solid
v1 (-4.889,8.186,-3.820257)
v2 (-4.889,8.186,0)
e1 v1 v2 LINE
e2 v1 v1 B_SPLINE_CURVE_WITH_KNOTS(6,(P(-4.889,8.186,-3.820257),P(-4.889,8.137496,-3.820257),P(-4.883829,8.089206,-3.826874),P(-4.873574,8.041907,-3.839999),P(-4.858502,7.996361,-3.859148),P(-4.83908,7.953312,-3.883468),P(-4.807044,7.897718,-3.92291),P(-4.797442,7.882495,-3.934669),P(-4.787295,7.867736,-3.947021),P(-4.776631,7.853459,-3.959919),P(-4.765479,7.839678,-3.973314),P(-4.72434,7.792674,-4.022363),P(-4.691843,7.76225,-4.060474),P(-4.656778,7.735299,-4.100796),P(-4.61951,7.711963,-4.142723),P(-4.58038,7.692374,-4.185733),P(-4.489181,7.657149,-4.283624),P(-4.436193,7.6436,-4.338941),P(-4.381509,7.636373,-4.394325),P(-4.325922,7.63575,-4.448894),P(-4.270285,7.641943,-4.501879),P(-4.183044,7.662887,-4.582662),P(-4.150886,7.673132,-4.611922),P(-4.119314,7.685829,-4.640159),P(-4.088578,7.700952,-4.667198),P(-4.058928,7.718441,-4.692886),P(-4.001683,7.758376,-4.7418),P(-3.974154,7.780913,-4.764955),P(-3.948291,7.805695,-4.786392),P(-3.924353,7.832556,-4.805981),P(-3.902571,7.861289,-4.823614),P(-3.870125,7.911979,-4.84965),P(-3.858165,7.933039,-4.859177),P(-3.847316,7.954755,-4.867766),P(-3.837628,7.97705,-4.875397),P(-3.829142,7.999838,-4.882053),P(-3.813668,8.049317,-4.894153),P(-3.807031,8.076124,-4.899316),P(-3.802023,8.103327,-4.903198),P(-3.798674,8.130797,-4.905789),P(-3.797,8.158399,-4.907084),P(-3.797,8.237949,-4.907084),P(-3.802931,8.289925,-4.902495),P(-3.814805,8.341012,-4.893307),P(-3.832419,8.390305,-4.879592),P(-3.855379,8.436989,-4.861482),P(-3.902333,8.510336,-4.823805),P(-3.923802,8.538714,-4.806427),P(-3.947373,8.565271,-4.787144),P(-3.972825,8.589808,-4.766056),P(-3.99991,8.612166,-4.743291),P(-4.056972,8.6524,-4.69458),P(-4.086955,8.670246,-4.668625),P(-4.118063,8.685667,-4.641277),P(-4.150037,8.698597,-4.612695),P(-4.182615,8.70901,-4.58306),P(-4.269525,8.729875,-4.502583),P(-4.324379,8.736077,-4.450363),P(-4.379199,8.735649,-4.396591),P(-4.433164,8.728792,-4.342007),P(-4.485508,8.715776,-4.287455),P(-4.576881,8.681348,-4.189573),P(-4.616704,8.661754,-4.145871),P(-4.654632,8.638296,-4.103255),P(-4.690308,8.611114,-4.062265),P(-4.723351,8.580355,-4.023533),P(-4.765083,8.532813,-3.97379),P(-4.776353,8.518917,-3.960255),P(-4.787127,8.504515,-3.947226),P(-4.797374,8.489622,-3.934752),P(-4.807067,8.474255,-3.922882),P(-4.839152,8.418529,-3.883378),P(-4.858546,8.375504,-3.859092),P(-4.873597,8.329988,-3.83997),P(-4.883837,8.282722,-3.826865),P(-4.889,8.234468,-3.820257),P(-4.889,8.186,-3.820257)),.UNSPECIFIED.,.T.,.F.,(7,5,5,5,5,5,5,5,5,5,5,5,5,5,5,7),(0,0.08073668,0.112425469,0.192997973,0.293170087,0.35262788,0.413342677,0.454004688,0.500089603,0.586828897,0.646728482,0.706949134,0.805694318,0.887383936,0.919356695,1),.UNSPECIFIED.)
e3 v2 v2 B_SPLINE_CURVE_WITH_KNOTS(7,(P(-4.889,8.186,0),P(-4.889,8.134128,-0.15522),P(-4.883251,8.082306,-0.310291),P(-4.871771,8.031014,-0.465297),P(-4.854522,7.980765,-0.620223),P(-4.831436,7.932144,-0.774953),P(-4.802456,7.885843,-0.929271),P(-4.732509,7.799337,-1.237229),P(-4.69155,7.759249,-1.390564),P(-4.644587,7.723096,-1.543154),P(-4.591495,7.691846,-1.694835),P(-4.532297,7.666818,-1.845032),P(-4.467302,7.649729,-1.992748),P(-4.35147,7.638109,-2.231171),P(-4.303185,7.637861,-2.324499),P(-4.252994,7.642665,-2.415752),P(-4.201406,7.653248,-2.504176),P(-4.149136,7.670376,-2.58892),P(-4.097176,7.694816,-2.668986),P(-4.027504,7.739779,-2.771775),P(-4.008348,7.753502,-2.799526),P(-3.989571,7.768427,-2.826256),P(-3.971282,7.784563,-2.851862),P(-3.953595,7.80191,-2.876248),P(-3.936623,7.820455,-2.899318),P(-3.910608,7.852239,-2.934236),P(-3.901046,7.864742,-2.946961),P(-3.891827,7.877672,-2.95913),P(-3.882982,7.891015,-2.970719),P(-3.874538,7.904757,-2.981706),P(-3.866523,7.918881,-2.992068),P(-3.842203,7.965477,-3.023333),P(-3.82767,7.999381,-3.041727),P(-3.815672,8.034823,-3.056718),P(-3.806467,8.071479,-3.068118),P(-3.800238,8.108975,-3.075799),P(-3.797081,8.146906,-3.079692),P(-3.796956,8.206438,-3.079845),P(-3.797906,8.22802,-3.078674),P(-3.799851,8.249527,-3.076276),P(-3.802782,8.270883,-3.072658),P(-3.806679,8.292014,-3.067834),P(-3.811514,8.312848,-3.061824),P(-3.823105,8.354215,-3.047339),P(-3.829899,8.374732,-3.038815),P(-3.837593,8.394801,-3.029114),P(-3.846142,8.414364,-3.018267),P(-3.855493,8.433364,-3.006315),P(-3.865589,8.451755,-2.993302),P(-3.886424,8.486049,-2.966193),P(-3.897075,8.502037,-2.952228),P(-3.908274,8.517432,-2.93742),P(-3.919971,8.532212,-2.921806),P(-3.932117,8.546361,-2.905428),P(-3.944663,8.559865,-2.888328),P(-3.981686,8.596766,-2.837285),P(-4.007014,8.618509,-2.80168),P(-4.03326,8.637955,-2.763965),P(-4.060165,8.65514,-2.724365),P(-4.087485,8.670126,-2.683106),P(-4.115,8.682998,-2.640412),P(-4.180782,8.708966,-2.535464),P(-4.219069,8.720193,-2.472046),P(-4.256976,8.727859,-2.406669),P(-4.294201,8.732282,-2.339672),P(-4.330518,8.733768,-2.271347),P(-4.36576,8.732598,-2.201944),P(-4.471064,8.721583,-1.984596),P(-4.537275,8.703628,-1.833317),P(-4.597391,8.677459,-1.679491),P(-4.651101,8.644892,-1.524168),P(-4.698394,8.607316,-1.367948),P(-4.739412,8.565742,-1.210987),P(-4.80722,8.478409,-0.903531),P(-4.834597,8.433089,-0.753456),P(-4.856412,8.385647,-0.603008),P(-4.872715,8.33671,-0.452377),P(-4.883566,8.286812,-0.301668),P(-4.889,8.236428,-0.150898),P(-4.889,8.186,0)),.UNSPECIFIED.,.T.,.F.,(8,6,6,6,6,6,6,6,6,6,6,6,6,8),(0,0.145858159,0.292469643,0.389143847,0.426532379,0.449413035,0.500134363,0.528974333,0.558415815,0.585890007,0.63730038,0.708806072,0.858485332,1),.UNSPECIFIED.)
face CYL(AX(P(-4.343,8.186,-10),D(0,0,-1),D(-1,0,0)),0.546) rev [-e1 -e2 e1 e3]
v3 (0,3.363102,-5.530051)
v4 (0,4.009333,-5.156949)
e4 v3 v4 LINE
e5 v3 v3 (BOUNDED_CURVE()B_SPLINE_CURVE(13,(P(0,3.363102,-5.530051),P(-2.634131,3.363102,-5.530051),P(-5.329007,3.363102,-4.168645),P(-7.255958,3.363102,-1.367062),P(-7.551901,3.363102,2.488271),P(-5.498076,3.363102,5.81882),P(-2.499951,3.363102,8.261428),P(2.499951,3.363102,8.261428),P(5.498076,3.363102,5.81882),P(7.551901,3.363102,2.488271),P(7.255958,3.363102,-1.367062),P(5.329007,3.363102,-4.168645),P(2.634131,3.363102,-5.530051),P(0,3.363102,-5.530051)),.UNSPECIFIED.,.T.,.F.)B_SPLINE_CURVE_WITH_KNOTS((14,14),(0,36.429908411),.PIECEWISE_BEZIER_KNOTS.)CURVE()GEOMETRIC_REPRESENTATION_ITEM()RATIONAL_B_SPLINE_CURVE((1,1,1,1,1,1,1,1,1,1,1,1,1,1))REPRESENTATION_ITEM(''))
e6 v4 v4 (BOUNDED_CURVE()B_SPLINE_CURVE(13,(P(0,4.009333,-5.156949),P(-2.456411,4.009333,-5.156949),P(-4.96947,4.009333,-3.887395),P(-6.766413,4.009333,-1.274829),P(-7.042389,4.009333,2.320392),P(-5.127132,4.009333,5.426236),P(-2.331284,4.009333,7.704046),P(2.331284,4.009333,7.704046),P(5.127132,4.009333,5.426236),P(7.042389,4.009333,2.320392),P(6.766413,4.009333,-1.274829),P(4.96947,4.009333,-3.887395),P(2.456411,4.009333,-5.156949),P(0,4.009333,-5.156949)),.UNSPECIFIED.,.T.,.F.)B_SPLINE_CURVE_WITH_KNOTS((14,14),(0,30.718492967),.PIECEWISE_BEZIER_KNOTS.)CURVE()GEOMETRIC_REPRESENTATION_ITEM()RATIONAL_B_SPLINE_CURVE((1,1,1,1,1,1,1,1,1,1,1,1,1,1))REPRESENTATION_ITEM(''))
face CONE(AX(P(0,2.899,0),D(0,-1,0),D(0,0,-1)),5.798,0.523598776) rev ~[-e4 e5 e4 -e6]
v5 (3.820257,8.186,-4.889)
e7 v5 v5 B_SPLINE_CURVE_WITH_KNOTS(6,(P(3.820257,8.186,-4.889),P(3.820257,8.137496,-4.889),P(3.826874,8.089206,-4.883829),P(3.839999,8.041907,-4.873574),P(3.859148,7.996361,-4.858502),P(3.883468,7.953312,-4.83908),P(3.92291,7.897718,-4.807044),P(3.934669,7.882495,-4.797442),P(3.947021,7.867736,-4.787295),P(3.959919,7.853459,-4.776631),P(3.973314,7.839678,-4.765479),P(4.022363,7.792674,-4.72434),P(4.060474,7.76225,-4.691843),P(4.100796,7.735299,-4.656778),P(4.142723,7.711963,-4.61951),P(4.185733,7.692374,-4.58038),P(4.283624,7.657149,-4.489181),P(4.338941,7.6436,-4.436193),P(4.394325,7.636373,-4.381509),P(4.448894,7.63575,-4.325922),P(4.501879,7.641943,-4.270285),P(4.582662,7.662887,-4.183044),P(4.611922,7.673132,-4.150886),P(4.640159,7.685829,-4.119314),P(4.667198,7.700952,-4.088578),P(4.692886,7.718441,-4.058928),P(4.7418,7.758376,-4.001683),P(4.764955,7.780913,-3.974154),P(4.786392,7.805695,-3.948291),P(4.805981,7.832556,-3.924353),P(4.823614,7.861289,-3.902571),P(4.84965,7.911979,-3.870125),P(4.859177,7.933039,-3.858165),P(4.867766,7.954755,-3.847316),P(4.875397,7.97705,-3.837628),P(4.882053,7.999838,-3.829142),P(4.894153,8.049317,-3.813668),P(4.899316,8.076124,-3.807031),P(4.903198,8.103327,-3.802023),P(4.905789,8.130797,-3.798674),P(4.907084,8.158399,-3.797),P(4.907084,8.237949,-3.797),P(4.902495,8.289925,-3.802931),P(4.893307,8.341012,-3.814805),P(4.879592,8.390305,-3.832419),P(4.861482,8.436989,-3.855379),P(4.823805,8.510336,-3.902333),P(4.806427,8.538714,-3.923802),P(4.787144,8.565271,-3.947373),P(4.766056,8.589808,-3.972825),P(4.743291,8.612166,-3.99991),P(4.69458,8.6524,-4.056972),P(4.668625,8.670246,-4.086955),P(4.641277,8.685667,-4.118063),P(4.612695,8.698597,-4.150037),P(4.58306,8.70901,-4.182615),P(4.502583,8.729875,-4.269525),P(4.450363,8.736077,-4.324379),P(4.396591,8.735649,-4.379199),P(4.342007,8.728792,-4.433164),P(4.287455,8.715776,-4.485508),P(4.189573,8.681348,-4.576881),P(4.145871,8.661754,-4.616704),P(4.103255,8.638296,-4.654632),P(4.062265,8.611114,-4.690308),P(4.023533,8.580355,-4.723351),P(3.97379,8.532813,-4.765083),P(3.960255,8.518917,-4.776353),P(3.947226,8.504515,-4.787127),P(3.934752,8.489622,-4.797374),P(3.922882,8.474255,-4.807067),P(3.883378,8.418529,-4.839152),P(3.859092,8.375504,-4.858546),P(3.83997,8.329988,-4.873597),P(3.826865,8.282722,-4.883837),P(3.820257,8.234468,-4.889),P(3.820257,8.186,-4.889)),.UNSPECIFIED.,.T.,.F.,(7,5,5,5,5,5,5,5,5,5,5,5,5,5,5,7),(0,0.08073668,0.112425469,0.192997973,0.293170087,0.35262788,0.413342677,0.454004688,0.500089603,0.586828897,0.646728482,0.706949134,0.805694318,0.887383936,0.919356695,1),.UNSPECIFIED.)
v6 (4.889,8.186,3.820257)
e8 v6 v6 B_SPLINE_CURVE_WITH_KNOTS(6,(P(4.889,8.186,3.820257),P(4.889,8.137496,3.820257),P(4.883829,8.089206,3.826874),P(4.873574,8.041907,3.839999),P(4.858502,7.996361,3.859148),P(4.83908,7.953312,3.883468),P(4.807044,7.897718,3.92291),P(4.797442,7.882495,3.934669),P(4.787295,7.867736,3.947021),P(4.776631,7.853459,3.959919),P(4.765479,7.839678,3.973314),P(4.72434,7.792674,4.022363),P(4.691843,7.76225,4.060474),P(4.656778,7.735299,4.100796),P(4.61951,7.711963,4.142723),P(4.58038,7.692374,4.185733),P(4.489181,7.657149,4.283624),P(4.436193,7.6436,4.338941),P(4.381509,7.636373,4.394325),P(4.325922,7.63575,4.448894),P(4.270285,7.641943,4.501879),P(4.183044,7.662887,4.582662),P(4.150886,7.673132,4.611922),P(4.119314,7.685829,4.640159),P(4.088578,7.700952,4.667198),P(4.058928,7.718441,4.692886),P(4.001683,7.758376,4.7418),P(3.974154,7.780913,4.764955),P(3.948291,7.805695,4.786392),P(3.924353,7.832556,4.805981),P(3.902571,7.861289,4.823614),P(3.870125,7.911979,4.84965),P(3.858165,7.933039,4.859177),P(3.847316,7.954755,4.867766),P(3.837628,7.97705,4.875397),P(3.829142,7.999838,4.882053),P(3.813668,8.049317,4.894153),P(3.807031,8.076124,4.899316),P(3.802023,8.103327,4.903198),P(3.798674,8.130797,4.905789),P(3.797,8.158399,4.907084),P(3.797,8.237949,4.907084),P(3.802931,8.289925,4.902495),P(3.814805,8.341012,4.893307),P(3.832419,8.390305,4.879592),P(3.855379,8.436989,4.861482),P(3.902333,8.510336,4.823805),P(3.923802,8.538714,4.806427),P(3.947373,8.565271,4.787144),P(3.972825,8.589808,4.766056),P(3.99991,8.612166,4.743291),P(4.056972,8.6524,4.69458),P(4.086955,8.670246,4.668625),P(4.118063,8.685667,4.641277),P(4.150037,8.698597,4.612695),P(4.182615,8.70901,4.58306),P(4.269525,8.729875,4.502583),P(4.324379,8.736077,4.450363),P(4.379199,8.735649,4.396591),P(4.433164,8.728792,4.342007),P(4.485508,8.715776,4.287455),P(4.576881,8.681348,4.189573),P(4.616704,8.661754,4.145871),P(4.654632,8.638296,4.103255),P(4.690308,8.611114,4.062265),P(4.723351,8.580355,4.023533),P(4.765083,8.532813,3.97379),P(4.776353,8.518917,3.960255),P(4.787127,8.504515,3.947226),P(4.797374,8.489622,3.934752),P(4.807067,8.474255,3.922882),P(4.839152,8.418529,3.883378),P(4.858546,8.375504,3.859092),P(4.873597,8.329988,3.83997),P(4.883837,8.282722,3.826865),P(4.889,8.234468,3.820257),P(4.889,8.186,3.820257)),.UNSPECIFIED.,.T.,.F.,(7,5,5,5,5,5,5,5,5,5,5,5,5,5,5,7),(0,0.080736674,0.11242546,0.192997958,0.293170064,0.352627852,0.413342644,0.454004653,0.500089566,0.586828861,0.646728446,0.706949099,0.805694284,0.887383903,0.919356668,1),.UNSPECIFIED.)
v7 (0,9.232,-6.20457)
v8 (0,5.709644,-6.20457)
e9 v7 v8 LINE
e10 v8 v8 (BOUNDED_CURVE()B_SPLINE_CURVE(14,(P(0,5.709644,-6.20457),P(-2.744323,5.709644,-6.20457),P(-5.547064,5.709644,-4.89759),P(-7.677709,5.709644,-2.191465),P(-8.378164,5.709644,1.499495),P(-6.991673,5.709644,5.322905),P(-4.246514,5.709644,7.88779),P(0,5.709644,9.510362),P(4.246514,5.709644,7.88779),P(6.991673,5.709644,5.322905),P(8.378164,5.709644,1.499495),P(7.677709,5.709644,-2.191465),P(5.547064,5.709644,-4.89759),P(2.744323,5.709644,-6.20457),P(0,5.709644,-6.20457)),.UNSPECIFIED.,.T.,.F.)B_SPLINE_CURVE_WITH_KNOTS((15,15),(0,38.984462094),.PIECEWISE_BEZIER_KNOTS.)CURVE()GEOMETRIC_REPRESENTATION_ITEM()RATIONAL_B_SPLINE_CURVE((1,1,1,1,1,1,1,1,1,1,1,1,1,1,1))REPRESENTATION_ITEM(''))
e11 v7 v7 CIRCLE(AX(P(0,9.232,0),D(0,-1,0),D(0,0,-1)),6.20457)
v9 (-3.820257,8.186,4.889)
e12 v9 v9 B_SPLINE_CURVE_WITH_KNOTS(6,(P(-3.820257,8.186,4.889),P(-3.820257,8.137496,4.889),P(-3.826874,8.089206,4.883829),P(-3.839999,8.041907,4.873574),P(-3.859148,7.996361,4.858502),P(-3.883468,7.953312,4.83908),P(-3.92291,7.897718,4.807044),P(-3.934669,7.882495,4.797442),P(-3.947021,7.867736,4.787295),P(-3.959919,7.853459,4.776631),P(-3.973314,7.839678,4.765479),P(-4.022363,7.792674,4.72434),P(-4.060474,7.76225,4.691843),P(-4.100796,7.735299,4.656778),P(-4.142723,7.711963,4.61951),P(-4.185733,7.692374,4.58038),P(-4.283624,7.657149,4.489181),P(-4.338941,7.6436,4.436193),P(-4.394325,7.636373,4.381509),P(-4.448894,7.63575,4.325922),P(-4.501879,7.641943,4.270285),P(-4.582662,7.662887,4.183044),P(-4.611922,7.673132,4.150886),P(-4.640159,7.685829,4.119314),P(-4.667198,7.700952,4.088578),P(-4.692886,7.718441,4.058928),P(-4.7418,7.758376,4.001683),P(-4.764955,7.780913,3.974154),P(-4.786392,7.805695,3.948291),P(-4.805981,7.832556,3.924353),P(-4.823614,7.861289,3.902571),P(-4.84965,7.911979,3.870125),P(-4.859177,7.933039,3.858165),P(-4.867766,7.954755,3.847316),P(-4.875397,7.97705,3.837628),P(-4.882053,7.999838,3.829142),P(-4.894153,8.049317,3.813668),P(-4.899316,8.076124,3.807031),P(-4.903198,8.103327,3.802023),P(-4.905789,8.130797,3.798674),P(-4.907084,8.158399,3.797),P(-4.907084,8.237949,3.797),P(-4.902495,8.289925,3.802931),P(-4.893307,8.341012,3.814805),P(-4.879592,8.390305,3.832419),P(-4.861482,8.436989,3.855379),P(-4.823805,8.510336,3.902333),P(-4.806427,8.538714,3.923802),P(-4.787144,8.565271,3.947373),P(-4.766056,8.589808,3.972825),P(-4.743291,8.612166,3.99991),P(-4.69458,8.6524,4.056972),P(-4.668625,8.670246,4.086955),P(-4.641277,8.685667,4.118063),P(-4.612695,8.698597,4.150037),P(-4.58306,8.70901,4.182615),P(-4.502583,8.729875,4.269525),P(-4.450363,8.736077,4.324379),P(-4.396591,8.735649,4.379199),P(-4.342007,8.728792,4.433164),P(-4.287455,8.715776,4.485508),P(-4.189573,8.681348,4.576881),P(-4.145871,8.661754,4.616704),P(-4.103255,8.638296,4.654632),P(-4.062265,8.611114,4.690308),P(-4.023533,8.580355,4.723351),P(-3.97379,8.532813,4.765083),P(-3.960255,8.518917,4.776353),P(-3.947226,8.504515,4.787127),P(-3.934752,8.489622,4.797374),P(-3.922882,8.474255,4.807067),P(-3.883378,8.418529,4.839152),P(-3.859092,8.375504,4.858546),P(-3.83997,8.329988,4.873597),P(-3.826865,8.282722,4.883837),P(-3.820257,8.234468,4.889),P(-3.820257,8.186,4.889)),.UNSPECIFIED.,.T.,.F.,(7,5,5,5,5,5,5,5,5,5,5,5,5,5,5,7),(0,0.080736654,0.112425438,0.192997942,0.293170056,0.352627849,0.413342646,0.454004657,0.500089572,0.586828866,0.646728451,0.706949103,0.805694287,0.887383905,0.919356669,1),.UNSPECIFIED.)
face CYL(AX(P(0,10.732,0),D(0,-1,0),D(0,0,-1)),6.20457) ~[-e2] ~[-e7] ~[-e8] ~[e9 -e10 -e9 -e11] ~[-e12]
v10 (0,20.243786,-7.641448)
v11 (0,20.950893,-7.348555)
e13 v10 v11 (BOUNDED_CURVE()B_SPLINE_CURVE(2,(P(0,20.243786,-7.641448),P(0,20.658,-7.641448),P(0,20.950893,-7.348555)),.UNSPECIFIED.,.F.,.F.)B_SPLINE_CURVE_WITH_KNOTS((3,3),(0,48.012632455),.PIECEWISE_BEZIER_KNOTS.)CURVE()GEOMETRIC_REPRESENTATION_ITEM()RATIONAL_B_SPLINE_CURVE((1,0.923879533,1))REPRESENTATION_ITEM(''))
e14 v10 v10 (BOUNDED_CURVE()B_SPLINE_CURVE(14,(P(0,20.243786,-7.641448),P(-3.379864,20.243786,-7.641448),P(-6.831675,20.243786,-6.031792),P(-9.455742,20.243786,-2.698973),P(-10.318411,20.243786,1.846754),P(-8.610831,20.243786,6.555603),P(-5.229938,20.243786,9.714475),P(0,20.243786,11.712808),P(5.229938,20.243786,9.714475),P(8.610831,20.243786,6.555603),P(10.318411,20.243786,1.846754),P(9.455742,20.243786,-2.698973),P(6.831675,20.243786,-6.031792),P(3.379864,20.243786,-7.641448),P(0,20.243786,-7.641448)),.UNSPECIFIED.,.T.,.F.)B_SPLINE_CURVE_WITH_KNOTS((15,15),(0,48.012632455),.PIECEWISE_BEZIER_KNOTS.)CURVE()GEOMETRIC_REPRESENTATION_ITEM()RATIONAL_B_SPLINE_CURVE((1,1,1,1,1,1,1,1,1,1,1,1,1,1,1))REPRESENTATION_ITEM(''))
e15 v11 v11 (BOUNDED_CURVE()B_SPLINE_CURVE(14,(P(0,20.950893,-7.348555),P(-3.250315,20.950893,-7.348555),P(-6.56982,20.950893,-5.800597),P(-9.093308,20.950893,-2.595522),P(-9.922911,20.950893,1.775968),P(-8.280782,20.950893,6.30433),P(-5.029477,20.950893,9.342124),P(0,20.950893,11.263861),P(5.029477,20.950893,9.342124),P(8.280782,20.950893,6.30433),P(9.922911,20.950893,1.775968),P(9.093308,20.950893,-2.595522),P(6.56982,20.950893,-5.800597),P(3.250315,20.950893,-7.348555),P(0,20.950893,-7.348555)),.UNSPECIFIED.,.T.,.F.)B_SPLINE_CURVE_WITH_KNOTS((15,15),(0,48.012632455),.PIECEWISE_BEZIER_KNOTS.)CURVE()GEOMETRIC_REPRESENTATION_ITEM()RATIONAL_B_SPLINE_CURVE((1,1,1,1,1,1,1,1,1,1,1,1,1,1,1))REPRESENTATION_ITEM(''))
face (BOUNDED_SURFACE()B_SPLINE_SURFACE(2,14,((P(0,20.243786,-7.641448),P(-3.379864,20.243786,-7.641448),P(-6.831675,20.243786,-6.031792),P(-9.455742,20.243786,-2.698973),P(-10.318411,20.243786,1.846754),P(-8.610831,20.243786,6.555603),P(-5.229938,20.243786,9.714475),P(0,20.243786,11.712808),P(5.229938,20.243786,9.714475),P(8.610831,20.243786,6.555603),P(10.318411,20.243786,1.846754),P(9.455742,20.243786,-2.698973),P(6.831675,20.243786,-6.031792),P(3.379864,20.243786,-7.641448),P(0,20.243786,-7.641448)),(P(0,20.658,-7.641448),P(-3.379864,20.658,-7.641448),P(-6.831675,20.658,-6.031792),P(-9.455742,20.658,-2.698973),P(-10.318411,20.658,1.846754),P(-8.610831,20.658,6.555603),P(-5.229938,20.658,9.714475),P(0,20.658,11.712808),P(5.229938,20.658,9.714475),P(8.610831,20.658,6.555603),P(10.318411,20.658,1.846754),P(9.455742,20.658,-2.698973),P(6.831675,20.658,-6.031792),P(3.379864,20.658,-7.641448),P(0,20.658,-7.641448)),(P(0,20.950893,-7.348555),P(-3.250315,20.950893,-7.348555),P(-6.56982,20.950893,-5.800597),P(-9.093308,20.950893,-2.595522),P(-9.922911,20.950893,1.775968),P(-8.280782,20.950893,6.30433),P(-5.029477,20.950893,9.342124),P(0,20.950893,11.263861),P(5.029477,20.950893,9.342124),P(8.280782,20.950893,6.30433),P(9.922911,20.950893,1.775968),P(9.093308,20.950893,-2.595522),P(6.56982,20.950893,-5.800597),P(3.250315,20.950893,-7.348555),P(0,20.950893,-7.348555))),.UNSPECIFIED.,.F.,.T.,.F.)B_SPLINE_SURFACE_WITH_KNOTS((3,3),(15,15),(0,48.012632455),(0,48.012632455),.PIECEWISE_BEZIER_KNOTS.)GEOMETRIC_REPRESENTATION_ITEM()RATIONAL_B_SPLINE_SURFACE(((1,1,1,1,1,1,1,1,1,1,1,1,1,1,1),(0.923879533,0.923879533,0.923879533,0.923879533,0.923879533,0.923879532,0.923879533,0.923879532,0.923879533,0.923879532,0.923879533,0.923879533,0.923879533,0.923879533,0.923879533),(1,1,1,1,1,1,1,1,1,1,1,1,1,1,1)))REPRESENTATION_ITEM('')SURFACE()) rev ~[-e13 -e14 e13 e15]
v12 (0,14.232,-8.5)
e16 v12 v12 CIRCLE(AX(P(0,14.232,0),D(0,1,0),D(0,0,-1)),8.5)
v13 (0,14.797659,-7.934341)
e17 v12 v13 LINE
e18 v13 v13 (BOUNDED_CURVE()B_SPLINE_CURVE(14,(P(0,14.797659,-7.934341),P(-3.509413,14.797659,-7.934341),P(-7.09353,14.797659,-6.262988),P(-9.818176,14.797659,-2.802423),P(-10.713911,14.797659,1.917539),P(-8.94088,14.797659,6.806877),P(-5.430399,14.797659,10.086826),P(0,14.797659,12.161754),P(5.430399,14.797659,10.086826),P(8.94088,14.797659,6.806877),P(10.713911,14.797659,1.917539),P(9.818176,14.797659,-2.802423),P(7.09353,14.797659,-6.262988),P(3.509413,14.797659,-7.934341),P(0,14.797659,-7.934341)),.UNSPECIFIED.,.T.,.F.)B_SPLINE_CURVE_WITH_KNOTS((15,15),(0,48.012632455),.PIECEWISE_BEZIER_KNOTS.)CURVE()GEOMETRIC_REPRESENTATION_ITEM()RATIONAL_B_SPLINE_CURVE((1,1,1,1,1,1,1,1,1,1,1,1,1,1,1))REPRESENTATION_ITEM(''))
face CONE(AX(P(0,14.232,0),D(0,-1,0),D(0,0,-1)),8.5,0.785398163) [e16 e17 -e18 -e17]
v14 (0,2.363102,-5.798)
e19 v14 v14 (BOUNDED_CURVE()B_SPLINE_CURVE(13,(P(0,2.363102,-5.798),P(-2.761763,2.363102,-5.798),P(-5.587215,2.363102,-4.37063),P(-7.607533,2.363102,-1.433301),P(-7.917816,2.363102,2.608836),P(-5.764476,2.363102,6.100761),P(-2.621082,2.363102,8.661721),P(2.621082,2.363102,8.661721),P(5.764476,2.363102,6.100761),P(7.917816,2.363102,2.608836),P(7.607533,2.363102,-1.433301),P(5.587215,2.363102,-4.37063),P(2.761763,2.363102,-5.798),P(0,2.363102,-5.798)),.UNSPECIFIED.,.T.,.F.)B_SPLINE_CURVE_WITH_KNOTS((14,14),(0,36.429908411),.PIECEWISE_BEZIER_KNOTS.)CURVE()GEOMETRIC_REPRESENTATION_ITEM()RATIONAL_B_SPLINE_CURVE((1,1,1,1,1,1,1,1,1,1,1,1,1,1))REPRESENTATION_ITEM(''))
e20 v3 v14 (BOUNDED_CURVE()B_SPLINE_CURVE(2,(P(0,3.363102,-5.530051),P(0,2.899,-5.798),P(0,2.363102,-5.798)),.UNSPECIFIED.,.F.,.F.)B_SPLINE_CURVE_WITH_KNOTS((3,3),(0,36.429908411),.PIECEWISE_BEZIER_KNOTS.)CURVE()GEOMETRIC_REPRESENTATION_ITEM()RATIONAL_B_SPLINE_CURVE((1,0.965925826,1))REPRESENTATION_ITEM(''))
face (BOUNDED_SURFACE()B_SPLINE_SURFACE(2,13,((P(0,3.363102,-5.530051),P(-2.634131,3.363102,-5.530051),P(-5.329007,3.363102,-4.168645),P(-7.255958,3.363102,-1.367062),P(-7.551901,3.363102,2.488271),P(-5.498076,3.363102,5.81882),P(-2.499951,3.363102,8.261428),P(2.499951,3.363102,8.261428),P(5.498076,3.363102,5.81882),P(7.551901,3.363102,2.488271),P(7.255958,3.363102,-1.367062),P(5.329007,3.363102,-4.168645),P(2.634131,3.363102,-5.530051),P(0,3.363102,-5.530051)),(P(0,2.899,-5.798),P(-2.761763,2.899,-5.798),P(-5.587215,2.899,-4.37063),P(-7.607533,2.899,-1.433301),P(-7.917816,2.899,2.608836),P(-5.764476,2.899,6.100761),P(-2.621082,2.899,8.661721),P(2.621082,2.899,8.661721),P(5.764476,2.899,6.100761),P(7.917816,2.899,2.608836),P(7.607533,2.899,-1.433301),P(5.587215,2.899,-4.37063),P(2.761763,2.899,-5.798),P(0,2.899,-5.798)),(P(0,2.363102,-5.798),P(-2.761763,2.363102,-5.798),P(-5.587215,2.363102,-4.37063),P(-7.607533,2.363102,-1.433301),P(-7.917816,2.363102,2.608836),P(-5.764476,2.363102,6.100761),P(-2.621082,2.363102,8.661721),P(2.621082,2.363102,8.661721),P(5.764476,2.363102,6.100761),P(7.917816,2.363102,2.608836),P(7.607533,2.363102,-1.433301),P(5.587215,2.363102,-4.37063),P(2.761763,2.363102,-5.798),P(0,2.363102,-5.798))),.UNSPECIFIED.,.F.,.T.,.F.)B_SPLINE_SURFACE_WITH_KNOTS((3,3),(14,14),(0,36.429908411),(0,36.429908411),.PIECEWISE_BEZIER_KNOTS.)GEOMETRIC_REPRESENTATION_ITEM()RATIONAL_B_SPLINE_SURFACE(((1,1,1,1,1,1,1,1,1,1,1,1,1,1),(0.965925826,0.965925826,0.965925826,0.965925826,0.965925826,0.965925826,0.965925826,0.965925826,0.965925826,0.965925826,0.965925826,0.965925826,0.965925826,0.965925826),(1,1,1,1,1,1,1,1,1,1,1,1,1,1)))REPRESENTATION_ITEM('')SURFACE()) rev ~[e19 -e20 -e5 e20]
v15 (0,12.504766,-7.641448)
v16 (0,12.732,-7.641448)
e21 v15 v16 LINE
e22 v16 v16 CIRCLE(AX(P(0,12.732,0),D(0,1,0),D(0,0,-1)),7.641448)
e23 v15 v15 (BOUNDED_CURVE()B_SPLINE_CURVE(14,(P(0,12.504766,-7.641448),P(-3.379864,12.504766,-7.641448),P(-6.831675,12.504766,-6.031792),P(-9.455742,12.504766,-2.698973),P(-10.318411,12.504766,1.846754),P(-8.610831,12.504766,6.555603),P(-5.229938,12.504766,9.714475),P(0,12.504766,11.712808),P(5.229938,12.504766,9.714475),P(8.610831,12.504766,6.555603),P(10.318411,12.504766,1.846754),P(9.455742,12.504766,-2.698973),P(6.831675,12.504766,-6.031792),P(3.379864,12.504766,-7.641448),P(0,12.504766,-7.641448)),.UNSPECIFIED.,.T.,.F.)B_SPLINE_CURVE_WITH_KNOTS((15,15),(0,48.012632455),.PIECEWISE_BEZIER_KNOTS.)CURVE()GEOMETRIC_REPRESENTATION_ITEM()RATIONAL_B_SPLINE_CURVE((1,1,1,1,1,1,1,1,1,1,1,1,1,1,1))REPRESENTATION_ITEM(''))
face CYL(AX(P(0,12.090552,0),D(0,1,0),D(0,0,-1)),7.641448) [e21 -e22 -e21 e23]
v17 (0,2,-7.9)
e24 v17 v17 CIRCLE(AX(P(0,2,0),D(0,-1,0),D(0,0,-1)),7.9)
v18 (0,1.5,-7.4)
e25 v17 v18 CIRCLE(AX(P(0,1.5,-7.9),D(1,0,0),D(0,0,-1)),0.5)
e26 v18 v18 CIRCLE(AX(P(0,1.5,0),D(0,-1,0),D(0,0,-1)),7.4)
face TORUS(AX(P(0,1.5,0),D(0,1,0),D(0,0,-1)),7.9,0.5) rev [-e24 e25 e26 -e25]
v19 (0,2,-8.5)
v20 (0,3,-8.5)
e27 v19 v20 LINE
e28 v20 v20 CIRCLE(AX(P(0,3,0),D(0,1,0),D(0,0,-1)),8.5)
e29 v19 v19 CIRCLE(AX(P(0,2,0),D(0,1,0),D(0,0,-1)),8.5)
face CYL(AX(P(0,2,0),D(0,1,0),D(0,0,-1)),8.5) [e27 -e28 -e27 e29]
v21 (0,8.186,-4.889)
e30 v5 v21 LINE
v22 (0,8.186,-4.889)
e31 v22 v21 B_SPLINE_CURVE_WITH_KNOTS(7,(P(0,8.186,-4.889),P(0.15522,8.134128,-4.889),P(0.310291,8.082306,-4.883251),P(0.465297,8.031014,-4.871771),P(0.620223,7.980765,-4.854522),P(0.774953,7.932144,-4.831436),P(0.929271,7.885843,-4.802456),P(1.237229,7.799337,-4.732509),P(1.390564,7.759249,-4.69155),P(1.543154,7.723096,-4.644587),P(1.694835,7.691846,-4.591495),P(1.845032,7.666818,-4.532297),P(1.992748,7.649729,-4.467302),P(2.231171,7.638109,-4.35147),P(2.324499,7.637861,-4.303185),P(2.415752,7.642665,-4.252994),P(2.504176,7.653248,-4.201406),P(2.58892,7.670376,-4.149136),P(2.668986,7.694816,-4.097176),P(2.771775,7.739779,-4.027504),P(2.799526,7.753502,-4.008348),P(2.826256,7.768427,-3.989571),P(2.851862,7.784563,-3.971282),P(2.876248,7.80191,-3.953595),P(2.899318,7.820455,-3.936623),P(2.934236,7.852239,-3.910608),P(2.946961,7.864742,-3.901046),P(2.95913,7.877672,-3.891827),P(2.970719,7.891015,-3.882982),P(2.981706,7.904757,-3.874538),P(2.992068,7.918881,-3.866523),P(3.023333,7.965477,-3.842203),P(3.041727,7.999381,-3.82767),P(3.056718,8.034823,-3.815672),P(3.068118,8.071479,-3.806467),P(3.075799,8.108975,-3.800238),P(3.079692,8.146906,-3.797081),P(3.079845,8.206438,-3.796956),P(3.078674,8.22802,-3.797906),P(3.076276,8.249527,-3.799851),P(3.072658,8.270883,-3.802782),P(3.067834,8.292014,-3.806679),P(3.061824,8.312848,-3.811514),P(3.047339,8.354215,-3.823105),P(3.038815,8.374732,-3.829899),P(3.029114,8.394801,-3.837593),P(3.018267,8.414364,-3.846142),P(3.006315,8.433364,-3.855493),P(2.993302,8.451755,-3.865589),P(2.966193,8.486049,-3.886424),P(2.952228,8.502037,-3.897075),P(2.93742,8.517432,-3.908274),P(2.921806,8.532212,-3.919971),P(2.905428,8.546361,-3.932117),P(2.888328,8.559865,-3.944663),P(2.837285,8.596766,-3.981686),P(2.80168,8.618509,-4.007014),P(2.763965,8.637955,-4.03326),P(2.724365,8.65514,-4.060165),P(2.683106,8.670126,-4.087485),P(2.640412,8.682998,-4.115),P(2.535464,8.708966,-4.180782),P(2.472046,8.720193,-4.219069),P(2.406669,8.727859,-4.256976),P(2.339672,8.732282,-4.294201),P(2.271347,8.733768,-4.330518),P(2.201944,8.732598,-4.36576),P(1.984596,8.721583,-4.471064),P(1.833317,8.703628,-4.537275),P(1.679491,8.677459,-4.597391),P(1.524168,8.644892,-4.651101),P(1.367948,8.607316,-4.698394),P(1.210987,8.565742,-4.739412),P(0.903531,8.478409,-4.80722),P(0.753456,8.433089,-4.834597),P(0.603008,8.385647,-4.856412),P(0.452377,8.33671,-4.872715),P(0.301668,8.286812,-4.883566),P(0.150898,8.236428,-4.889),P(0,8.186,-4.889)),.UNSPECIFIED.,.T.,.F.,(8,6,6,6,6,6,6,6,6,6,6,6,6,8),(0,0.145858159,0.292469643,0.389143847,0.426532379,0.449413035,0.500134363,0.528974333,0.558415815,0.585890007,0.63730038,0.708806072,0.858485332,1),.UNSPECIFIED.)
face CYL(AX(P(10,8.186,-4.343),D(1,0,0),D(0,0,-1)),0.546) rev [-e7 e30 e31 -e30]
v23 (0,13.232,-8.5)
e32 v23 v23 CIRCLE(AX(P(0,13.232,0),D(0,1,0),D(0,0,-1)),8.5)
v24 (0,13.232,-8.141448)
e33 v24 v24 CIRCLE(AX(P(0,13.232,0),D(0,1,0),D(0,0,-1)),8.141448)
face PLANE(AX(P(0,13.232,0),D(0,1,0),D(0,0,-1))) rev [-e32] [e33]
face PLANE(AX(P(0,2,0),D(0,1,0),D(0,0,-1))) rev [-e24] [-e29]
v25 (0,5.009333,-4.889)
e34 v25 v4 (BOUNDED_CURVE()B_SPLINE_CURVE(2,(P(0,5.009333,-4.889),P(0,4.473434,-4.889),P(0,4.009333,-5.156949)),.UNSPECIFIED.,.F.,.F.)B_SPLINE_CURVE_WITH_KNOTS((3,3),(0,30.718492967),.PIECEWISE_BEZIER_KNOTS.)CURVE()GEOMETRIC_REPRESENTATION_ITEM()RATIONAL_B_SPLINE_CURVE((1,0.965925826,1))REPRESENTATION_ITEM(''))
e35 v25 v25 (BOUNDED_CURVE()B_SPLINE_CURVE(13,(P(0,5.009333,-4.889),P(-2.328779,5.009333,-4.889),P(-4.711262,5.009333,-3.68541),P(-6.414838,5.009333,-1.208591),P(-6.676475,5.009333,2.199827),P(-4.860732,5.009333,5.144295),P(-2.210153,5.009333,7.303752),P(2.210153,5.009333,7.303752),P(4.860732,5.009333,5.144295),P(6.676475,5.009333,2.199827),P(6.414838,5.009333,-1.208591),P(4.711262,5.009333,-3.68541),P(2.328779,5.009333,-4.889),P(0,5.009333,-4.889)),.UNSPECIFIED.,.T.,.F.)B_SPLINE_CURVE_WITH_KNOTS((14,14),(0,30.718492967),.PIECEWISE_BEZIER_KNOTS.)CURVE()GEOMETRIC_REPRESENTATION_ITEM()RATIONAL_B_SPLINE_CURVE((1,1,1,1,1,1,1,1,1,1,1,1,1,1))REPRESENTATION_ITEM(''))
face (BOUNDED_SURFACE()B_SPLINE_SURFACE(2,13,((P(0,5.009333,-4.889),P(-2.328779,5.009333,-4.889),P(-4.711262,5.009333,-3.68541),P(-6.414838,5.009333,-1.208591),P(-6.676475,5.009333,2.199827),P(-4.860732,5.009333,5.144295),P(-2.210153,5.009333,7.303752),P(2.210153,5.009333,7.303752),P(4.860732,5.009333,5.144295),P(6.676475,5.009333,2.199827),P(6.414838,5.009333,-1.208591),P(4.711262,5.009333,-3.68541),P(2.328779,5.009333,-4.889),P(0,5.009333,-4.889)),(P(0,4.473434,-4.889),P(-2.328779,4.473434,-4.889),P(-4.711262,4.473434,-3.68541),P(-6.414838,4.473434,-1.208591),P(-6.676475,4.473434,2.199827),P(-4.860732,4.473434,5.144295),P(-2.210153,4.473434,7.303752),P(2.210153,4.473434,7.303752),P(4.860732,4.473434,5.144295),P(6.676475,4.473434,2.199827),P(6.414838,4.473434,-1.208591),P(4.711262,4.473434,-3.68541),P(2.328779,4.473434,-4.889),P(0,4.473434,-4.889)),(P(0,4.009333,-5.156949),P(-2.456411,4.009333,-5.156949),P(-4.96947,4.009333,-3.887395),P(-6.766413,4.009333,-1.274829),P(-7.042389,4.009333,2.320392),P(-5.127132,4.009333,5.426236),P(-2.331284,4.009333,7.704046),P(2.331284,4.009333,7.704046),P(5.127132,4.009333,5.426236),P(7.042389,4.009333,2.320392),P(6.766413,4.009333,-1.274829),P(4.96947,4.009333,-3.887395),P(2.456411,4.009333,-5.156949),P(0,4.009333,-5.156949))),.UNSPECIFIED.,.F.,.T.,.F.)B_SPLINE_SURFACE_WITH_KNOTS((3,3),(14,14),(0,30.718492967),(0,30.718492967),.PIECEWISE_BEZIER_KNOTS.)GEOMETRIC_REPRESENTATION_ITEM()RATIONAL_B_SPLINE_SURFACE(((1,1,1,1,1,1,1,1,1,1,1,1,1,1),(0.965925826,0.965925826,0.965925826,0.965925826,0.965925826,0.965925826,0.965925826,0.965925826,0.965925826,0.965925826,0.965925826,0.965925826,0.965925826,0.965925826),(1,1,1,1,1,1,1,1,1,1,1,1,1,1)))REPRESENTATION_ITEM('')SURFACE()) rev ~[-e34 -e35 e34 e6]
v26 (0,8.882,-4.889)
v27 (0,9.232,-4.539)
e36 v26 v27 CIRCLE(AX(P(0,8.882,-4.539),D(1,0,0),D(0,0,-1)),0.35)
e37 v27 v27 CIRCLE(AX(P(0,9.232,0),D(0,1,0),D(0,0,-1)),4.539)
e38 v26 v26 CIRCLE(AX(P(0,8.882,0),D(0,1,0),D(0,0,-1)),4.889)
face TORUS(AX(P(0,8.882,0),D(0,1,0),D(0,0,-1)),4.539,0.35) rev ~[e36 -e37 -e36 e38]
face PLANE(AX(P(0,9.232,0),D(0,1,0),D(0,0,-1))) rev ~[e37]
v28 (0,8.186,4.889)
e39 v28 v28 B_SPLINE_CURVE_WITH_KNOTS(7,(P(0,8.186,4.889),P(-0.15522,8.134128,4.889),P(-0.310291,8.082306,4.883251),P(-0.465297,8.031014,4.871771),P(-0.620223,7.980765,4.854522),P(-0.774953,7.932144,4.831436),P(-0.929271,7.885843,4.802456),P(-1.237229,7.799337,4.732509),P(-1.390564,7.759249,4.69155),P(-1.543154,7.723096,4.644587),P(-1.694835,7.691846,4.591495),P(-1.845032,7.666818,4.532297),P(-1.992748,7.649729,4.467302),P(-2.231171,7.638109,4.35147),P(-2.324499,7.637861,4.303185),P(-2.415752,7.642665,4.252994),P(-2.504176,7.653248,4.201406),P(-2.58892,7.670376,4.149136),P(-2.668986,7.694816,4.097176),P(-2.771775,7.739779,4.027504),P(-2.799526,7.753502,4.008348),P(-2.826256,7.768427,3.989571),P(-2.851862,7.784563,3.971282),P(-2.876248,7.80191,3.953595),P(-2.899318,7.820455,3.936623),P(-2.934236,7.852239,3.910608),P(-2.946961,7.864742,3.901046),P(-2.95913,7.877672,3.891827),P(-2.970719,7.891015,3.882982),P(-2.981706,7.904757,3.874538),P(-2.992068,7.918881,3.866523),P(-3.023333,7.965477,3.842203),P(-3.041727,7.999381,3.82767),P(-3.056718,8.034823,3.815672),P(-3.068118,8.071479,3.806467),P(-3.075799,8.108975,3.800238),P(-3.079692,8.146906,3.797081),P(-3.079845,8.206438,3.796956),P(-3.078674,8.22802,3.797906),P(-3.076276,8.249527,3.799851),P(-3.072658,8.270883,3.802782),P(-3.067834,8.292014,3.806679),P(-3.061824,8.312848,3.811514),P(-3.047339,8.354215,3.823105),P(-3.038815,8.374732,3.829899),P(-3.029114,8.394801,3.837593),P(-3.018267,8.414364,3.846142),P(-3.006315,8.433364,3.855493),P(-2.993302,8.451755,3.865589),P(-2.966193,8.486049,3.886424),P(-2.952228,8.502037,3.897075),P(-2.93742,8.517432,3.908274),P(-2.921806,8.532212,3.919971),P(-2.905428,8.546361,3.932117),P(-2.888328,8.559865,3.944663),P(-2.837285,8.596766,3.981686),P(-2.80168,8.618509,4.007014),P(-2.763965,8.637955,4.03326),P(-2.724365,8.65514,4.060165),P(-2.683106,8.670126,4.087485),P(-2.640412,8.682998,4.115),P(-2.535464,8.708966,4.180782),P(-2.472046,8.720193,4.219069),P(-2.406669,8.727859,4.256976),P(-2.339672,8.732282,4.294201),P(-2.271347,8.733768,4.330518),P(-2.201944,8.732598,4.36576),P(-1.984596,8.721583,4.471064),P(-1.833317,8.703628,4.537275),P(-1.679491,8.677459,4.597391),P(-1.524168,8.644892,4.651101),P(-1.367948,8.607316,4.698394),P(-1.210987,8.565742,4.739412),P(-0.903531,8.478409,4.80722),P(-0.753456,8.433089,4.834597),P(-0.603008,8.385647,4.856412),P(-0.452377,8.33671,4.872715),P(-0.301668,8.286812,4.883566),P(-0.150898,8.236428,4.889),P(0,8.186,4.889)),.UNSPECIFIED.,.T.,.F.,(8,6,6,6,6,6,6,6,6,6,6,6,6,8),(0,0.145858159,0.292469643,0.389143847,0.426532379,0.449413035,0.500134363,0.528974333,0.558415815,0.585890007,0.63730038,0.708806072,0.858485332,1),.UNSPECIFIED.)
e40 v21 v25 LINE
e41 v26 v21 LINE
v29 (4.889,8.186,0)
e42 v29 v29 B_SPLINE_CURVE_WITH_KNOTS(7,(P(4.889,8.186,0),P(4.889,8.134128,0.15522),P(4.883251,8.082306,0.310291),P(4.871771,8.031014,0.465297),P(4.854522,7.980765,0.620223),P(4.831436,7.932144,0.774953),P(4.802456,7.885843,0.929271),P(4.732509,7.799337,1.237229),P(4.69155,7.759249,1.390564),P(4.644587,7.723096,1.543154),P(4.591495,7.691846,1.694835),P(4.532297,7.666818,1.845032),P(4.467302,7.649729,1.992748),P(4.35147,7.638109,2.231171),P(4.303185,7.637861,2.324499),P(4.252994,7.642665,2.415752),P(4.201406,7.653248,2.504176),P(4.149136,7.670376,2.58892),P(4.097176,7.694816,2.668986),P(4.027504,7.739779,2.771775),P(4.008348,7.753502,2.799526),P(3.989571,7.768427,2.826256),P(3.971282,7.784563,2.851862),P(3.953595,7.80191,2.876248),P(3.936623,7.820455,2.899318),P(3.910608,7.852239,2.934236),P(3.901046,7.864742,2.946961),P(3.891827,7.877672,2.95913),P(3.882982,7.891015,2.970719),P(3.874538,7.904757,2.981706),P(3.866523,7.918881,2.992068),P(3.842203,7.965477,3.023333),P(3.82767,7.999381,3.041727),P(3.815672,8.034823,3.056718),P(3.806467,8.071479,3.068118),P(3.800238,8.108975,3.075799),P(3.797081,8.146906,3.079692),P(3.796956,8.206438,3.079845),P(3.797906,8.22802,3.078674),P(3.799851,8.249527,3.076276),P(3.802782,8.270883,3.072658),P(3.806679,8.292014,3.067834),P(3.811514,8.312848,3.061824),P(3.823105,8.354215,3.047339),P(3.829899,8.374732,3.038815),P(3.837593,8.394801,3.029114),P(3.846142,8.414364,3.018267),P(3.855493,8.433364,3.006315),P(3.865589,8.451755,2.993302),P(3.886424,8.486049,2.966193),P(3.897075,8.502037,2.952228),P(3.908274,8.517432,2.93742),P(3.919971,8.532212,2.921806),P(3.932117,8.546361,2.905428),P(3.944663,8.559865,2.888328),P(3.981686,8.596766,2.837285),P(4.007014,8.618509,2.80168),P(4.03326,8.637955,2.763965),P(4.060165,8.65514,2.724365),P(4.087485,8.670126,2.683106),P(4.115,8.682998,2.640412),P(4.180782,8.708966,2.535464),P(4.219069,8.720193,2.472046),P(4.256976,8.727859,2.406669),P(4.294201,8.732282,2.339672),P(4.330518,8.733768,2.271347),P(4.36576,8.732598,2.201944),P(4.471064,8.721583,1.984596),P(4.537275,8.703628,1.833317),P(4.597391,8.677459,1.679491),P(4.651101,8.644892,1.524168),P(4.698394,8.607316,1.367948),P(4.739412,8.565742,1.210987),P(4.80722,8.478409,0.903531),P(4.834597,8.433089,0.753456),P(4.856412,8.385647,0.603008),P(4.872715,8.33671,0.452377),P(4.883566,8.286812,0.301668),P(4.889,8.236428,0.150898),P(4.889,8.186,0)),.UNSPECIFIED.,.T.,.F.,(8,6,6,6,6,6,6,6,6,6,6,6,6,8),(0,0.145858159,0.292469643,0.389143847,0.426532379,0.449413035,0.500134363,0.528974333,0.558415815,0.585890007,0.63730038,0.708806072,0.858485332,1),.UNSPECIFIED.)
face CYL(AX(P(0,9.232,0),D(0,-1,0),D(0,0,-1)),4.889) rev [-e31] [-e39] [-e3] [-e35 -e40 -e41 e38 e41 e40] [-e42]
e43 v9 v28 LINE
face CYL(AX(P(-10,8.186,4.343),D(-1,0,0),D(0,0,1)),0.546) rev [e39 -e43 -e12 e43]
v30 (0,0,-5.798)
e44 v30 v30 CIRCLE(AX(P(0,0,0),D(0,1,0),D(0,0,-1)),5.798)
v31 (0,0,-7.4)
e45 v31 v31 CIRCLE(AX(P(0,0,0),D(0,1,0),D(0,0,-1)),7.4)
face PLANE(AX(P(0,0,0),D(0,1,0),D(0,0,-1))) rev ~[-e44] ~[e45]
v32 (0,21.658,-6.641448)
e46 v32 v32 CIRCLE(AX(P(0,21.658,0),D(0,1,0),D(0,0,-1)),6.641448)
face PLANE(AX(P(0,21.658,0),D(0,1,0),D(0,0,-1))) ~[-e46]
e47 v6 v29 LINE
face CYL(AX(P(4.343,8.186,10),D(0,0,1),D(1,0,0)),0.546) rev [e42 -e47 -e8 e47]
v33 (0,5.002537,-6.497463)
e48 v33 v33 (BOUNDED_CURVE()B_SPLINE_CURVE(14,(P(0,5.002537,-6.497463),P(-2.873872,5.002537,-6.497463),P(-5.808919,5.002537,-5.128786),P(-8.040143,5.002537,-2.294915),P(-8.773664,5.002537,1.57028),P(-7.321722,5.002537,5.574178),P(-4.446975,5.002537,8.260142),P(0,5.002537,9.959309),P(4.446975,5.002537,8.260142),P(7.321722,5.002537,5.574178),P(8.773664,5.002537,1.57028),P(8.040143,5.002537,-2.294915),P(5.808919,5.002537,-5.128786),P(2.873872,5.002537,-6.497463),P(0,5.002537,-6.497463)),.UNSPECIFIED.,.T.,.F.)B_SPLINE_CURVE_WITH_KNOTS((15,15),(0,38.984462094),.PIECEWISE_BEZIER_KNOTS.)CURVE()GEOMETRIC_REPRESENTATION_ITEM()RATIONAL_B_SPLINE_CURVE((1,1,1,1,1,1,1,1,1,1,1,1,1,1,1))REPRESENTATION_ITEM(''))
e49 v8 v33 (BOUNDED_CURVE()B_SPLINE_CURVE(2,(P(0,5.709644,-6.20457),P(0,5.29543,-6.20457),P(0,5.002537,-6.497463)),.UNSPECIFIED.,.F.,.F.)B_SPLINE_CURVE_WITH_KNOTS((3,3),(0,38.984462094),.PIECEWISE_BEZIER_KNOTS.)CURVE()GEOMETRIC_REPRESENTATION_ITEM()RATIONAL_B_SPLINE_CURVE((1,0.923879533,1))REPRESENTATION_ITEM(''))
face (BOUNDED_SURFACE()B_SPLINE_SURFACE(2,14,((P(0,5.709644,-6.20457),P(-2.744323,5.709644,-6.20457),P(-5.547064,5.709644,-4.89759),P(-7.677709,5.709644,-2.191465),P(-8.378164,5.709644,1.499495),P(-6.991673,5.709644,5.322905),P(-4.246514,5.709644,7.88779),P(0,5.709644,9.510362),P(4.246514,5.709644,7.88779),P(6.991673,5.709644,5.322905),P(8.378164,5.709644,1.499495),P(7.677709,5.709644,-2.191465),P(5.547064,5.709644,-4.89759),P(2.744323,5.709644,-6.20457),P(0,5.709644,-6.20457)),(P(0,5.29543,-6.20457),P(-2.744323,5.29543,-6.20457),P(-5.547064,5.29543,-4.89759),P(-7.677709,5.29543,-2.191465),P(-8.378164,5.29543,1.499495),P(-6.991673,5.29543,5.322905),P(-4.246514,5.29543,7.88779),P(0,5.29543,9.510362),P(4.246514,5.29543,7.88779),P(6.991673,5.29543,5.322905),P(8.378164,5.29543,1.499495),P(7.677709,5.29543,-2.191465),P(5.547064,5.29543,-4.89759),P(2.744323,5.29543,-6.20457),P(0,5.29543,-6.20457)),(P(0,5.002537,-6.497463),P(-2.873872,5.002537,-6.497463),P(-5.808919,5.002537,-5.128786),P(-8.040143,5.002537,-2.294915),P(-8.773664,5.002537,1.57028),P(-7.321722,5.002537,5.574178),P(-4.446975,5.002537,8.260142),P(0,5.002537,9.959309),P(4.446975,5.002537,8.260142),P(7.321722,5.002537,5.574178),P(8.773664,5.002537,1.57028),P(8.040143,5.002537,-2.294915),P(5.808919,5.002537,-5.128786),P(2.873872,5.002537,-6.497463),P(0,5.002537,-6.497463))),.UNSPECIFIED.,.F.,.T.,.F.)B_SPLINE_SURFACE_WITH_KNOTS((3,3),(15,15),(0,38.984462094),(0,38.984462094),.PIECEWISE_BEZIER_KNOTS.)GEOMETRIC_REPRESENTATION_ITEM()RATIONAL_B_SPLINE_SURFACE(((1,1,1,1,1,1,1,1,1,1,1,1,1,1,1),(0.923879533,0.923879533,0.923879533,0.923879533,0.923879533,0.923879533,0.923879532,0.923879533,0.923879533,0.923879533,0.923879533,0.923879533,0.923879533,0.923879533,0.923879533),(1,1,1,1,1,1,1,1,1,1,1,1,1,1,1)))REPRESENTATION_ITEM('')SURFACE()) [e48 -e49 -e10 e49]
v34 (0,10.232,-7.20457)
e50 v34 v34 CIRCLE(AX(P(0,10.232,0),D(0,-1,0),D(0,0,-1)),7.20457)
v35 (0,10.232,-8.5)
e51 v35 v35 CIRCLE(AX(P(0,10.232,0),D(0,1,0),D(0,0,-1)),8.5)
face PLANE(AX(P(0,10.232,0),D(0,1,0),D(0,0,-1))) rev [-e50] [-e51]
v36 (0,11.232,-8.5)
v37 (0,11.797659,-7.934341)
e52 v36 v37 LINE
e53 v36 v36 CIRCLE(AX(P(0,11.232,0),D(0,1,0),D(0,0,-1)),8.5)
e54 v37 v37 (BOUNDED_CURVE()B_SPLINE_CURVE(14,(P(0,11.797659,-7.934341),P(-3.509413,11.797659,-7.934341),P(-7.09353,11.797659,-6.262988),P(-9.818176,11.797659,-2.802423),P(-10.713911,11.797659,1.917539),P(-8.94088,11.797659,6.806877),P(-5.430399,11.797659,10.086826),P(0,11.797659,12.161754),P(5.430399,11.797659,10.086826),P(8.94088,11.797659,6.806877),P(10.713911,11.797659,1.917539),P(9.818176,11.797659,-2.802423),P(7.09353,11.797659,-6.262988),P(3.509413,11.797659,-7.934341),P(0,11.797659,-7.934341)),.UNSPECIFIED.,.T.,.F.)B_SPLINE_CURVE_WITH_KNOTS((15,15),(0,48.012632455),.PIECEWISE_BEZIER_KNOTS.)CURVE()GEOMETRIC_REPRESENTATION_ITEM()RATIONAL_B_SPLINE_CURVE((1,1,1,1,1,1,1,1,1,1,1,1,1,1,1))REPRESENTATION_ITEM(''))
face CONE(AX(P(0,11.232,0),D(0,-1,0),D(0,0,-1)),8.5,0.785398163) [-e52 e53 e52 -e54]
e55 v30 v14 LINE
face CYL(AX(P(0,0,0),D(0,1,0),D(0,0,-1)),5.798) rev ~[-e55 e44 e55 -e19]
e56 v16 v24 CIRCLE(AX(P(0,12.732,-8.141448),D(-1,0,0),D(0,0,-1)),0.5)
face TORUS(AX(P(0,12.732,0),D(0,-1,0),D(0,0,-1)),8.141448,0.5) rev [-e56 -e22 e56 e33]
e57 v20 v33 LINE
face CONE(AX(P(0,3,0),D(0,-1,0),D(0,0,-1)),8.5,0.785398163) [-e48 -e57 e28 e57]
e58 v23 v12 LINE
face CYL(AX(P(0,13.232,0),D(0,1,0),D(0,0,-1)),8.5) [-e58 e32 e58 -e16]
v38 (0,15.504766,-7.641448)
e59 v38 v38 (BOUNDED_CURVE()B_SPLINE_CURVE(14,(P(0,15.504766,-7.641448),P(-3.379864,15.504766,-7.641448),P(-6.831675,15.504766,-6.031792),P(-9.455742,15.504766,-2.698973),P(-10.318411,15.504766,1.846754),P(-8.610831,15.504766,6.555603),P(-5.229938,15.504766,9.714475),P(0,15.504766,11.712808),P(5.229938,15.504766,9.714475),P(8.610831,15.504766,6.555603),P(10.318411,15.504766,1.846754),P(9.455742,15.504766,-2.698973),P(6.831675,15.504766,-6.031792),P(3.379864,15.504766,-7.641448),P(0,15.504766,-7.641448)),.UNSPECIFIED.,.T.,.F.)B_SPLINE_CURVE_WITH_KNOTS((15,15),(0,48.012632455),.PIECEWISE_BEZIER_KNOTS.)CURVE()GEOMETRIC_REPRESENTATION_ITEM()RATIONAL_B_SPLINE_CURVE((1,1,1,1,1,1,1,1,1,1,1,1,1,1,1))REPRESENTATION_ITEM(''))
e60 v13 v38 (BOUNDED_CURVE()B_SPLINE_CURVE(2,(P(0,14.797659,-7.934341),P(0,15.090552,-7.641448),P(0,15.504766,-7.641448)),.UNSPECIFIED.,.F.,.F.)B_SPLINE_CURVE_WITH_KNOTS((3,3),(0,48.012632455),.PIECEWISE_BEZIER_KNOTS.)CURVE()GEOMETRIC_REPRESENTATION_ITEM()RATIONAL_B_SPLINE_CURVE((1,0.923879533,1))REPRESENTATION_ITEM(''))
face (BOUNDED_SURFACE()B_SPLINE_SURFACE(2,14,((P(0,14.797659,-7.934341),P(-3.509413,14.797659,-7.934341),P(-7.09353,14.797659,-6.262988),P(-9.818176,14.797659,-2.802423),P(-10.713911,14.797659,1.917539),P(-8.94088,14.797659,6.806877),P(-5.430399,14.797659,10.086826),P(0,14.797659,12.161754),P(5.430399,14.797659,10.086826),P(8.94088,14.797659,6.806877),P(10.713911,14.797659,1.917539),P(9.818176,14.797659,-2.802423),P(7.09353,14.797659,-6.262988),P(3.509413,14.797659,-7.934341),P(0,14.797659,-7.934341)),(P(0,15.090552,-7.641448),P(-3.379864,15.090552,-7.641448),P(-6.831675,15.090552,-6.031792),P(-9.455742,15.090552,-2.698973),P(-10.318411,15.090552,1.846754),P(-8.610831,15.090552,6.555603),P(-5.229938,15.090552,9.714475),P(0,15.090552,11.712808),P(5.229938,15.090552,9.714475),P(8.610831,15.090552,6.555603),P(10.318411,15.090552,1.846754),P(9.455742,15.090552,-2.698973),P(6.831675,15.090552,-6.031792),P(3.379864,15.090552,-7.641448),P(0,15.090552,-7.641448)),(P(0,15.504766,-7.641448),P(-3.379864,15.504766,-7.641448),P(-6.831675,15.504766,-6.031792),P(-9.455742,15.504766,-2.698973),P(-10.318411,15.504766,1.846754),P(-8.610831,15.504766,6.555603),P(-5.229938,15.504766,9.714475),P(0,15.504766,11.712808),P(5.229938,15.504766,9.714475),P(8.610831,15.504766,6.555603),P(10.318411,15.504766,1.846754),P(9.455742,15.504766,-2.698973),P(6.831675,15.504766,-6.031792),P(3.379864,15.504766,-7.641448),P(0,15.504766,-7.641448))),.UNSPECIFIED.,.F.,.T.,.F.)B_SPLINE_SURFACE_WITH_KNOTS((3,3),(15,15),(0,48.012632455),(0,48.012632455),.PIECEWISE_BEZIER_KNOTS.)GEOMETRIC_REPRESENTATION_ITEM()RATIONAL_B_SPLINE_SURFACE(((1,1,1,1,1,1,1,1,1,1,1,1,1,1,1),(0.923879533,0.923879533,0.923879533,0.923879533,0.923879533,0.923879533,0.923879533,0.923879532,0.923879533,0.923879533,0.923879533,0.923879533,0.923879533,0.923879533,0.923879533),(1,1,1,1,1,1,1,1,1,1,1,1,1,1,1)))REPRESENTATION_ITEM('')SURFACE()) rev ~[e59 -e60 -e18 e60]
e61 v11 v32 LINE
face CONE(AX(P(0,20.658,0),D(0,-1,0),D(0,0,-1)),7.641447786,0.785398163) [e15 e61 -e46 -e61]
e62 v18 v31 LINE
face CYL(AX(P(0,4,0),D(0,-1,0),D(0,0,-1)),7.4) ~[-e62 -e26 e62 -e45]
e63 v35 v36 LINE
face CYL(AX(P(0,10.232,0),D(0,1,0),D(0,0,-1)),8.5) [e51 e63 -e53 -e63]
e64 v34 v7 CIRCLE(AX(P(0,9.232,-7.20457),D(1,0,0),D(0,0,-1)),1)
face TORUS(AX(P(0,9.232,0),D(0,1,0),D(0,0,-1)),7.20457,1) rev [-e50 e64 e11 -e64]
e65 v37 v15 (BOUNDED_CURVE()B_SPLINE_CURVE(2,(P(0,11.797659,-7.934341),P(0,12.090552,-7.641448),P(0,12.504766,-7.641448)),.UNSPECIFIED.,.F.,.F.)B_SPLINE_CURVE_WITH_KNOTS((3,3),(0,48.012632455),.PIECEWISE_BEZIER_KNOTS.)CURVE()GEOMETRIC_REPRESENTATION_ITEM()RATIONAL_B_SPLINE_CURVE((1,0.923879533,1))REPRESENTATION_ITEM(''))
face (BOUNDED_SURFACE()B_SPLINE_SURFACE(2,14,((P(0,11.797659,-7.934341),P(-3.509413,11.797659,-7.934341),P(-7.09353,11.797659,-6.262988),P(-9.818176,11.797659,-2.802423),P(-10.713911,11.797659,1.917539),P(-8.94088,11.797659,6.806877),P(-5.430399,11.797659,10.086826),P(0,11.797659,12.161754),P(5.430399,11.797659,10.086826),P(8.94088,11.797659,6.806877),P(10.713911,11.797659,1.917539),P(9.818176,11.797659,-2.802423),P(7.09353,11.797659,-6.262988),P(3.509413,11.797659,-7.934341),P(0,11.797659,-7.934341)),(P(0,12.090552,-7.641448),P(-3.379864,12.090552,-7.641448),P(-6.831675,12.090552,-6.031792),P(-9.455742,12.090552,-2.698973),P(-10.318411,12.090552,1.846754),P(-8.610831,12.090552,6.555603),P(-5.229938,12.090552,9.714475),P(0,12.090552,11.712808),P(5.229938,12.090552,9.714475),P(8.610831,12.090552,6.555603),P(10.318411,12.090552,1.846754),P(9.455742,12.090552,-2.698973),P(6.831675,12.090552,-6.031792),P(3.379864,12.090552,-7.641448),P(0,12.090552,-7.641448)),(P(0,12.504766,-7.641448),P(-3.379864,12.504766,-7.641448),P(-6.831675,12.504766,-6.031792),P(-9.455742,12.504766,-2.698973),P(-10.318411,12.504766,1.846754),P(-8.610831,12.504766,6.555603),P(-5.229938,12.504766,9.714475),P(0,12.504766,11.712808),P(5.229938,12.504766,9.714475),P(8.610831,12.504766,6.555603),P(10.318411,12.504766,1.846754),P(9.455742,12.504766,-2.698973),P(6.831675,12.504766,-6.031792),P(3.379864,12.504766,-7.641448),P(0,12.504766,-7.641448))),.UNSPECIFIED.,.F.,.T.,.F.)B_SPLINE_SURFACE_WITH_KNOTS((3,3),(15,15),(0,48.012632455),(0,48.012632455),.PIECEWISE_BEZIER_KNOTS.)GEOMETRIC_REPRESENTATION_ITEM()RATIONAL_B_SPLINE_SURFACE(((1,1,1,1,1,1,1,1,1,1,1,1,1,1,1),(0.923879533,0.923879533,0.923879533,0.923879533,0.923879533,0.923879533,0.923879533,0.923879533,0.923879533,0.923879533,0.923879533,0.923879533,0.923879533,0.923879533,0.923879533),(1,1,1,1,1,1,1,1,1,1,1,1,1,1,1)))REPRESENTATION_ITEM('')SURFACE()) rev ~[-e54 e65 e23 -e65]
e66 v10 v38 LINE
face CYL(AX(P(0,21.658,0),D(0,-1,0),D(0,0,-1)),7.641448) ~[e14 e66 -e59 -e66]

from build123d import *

# Parameters (mm, degrees)
CORTE_EXTRUS_O1_REACH      = 30.96
CORTE_EXTRUS_O1_END_RADIUS = 4.889
ESBO_O9_R                  = 0.546
PADR_OCIRCULAR2_COUNT      = 4
CHANFRO1_SIZE              = 1
FILETE3_R                  = 1
FILETE_TOPO_R              = 0.35
FILETE_BASE_R              = 2
FILETE4_R                  = 1
FILETE5_R                  = 0.5
ESBO_O13_R                 = 4.455
CORTE_EXTRUS_O3_DEPTH      = 8.232


with BuildPart() as part:
    # Esboço4 → Revolução1 (revolve)
    with BuildSketch(Plane.XY, mode=Mode.PRIVATE) as revolu_o1_sk:
        Polygon((3.105, 1), (3.105, 10.329), (5.46, 12.684), (5.46, 19.658), (0, 19.658), (0, 21.658), (7.641447786, 21.658), (7.641447786, 10.732), (6.204569846, 10.732), (6.204569846, 4), (7.4, 4), (7.4, 0), (5.798, 0), (5.798, 2.899), (4.889, 4.473434184), (4.889, 4.889), (4.889, 9.232), (4.105, 9.232), (4.105, 1), align=None)
    revolve(revolu_o1_sk.sketch.rotate(Axis((0, 0, 0), (0, 1, 0)), 90), axis=Axis((0, 0, 0), (0, 1, 0)))

    # Corte-extrusão1: up to this cylinder (the profile starts outside it)
    corte_extrus_o1_end = Plane(origin=(0, 8.186, 0), z_dir=(0, -1, 0)) * Cylinder(CORTE_EXTRUS_O1_END_RADIUS, 72.698, mode=Mode.PRIVATE)
    # Esboço9 → Corte-extrusão1 (cut, up to the surface)
    with BuildSketch(Plane.XY.offset(-10), mode=Mode.PRIVATE) as corte_extrus_o1_sk1:
        with Locations(Location((-4.343, 8.186, 0), (0, 0, 180))):
            Circle(ESBO_O9_R)
    corte_extrus_o1_tool1 = extrude(corte_extrus_o1_sk1.sketch, amount=CORTE_EXTRUS_O1_REACH, mode=Mode.PRIVATE) - corte_extrus_o1_end
    corte_extrus_o1 = corte_extrus_o1_tool1.solids().sort_by_distance((-4.343, 8.186, -10))[0]
    add(corte_extrus_o1, mode=Mode.SUBTRACT)

    # PadrãoCircular2: Corte-extrusão1 ×4 about axis
    padr_ocircular2_axis = Axis((0, 0, 0), (0, 1, 0))
    for i in range(1, PADR_OCIRCULAR2_COUNT):
        add(corte_extrus_o1.rotate(padr_ocircular2_axis, i * 360 / PADR_OCIRCULAR2_COUNT), mode=Mode.SUBTRACT)

    # Chanfro1
    chanfro1_edges = [part.edges().sort_by_distance(p)[0] for p in [
        (0, 21.658, 7.641447786),
    ]]
    chamfer(chanfro1_edges, length=CHANFRO1_SIZE)

    # Filete3
    filete3_edges = [part.edges().sort_by_distance(p)[0] for p in [
        (0, 20.658, 7.641447786),
    ]]
    fillet(filete3_edges, radius=FILETE3_R)

    # Filete_topo
    filete_topo_edges = [part.edges().sort_by_distance(p)[0] for p in [
        (0, 9.232, 4.105),
        (0, 9.232, 4.889),
        (0, 19.658, 5.46),
    ]]
    fillet(filete_topo_edges, radius=FILETE_TOPO_R)

    # Filete_base
    filete_base_edges = [part.edges().sort_by_distance(p)[0] for p in [
        (0, 4.473434184, 4.889),
        (0, 2.899, 5.798),
        (0, 12.684, 5.46),
        (0, 10.329, 3.105),
    ]]
    fillet(filete_base_edges, radius=FILETE_BASE_R)

    # Esboço11 → Revolução2 (revolve)
    with BuildSketch(Plane.XY, mode=Mode.PRIVATE) as revolu_o2_sk:
        Polygon((6.204569846, 10.232), (8.5, 10.232), (8.5, 11.232), (7.641447786, 12.090552214), (7.641447786, 13.232), (8.5, 13.232), (8.5, 14.232), (7.641447786, 15.090552214), (7.141447786, 15.090552214), (7.141447786, 11.232), (5.704569846, 11.232), (5.704569846, 10.232), align=None)
        Polygon((7.4, 2), (8.5, 2), (8.5, 3), (6.204569846, 5.295430154), (5.704569846, 5.295430154), (5.704569846, 4), (6.9, 2), align=None)
    revolve(revolu_o2_sk.sketch.rotate(Axis((0, 0, 0), (0, 1, 0)), 90), axis=Axis((0, 0, 0), (0, 1, 0)))

    # Filete4
    filete4_edges = [part.edges().sort_by_distance(p)[0] for p in [
        (0, 5.295430154, 6.204569846),
        (0, 15.090552214, 7.641447786),
        (0, 12.090552214, 7.641447786),
        (0, 10.232, 6.204569846),
    ]]
    fillet(filete4_edges, radius=FILETE4_R)

    # Filete5
    filete5_edges = [part.edges().sort_by_distance(p)[0] for p in [
        (0, 2, 7.4),
        (0, 13.232, 7.641447786),
    ]]
    fillet(filete5_edges, radius=FILETE5_R)

    # Esboço12 → Revolução3 (revolve)
    with BuildSketch(Plane.XY, mode=Mode.PRIVATE) as revolu_o3_sk:
        Polygon((-3.755907377, 1), (-3.755907377, 10.085784813), (-6.693701371, 13.543615987), (-6.693701371, 20.463139806), (0, 20.463139806), (0, 1), align=None)
    revolve(revolu_o3_sk.sketch.rotate(Axis((0, 0, 0), (0, -1, 0)), 90), axis=Axis((0, 0, 0), (0, -1, 0)))

    # Esboço13 → Corte-extrusão3 (cut)
    with BuildSketch(Plane.XZ.offset(-1)):
        Circle(ESBO_O13_R)
    extrude(amount=-CORTE_EXTRUS_O3_DEPTH, mode=Mode.SUBTRACT)


solid = part.part
